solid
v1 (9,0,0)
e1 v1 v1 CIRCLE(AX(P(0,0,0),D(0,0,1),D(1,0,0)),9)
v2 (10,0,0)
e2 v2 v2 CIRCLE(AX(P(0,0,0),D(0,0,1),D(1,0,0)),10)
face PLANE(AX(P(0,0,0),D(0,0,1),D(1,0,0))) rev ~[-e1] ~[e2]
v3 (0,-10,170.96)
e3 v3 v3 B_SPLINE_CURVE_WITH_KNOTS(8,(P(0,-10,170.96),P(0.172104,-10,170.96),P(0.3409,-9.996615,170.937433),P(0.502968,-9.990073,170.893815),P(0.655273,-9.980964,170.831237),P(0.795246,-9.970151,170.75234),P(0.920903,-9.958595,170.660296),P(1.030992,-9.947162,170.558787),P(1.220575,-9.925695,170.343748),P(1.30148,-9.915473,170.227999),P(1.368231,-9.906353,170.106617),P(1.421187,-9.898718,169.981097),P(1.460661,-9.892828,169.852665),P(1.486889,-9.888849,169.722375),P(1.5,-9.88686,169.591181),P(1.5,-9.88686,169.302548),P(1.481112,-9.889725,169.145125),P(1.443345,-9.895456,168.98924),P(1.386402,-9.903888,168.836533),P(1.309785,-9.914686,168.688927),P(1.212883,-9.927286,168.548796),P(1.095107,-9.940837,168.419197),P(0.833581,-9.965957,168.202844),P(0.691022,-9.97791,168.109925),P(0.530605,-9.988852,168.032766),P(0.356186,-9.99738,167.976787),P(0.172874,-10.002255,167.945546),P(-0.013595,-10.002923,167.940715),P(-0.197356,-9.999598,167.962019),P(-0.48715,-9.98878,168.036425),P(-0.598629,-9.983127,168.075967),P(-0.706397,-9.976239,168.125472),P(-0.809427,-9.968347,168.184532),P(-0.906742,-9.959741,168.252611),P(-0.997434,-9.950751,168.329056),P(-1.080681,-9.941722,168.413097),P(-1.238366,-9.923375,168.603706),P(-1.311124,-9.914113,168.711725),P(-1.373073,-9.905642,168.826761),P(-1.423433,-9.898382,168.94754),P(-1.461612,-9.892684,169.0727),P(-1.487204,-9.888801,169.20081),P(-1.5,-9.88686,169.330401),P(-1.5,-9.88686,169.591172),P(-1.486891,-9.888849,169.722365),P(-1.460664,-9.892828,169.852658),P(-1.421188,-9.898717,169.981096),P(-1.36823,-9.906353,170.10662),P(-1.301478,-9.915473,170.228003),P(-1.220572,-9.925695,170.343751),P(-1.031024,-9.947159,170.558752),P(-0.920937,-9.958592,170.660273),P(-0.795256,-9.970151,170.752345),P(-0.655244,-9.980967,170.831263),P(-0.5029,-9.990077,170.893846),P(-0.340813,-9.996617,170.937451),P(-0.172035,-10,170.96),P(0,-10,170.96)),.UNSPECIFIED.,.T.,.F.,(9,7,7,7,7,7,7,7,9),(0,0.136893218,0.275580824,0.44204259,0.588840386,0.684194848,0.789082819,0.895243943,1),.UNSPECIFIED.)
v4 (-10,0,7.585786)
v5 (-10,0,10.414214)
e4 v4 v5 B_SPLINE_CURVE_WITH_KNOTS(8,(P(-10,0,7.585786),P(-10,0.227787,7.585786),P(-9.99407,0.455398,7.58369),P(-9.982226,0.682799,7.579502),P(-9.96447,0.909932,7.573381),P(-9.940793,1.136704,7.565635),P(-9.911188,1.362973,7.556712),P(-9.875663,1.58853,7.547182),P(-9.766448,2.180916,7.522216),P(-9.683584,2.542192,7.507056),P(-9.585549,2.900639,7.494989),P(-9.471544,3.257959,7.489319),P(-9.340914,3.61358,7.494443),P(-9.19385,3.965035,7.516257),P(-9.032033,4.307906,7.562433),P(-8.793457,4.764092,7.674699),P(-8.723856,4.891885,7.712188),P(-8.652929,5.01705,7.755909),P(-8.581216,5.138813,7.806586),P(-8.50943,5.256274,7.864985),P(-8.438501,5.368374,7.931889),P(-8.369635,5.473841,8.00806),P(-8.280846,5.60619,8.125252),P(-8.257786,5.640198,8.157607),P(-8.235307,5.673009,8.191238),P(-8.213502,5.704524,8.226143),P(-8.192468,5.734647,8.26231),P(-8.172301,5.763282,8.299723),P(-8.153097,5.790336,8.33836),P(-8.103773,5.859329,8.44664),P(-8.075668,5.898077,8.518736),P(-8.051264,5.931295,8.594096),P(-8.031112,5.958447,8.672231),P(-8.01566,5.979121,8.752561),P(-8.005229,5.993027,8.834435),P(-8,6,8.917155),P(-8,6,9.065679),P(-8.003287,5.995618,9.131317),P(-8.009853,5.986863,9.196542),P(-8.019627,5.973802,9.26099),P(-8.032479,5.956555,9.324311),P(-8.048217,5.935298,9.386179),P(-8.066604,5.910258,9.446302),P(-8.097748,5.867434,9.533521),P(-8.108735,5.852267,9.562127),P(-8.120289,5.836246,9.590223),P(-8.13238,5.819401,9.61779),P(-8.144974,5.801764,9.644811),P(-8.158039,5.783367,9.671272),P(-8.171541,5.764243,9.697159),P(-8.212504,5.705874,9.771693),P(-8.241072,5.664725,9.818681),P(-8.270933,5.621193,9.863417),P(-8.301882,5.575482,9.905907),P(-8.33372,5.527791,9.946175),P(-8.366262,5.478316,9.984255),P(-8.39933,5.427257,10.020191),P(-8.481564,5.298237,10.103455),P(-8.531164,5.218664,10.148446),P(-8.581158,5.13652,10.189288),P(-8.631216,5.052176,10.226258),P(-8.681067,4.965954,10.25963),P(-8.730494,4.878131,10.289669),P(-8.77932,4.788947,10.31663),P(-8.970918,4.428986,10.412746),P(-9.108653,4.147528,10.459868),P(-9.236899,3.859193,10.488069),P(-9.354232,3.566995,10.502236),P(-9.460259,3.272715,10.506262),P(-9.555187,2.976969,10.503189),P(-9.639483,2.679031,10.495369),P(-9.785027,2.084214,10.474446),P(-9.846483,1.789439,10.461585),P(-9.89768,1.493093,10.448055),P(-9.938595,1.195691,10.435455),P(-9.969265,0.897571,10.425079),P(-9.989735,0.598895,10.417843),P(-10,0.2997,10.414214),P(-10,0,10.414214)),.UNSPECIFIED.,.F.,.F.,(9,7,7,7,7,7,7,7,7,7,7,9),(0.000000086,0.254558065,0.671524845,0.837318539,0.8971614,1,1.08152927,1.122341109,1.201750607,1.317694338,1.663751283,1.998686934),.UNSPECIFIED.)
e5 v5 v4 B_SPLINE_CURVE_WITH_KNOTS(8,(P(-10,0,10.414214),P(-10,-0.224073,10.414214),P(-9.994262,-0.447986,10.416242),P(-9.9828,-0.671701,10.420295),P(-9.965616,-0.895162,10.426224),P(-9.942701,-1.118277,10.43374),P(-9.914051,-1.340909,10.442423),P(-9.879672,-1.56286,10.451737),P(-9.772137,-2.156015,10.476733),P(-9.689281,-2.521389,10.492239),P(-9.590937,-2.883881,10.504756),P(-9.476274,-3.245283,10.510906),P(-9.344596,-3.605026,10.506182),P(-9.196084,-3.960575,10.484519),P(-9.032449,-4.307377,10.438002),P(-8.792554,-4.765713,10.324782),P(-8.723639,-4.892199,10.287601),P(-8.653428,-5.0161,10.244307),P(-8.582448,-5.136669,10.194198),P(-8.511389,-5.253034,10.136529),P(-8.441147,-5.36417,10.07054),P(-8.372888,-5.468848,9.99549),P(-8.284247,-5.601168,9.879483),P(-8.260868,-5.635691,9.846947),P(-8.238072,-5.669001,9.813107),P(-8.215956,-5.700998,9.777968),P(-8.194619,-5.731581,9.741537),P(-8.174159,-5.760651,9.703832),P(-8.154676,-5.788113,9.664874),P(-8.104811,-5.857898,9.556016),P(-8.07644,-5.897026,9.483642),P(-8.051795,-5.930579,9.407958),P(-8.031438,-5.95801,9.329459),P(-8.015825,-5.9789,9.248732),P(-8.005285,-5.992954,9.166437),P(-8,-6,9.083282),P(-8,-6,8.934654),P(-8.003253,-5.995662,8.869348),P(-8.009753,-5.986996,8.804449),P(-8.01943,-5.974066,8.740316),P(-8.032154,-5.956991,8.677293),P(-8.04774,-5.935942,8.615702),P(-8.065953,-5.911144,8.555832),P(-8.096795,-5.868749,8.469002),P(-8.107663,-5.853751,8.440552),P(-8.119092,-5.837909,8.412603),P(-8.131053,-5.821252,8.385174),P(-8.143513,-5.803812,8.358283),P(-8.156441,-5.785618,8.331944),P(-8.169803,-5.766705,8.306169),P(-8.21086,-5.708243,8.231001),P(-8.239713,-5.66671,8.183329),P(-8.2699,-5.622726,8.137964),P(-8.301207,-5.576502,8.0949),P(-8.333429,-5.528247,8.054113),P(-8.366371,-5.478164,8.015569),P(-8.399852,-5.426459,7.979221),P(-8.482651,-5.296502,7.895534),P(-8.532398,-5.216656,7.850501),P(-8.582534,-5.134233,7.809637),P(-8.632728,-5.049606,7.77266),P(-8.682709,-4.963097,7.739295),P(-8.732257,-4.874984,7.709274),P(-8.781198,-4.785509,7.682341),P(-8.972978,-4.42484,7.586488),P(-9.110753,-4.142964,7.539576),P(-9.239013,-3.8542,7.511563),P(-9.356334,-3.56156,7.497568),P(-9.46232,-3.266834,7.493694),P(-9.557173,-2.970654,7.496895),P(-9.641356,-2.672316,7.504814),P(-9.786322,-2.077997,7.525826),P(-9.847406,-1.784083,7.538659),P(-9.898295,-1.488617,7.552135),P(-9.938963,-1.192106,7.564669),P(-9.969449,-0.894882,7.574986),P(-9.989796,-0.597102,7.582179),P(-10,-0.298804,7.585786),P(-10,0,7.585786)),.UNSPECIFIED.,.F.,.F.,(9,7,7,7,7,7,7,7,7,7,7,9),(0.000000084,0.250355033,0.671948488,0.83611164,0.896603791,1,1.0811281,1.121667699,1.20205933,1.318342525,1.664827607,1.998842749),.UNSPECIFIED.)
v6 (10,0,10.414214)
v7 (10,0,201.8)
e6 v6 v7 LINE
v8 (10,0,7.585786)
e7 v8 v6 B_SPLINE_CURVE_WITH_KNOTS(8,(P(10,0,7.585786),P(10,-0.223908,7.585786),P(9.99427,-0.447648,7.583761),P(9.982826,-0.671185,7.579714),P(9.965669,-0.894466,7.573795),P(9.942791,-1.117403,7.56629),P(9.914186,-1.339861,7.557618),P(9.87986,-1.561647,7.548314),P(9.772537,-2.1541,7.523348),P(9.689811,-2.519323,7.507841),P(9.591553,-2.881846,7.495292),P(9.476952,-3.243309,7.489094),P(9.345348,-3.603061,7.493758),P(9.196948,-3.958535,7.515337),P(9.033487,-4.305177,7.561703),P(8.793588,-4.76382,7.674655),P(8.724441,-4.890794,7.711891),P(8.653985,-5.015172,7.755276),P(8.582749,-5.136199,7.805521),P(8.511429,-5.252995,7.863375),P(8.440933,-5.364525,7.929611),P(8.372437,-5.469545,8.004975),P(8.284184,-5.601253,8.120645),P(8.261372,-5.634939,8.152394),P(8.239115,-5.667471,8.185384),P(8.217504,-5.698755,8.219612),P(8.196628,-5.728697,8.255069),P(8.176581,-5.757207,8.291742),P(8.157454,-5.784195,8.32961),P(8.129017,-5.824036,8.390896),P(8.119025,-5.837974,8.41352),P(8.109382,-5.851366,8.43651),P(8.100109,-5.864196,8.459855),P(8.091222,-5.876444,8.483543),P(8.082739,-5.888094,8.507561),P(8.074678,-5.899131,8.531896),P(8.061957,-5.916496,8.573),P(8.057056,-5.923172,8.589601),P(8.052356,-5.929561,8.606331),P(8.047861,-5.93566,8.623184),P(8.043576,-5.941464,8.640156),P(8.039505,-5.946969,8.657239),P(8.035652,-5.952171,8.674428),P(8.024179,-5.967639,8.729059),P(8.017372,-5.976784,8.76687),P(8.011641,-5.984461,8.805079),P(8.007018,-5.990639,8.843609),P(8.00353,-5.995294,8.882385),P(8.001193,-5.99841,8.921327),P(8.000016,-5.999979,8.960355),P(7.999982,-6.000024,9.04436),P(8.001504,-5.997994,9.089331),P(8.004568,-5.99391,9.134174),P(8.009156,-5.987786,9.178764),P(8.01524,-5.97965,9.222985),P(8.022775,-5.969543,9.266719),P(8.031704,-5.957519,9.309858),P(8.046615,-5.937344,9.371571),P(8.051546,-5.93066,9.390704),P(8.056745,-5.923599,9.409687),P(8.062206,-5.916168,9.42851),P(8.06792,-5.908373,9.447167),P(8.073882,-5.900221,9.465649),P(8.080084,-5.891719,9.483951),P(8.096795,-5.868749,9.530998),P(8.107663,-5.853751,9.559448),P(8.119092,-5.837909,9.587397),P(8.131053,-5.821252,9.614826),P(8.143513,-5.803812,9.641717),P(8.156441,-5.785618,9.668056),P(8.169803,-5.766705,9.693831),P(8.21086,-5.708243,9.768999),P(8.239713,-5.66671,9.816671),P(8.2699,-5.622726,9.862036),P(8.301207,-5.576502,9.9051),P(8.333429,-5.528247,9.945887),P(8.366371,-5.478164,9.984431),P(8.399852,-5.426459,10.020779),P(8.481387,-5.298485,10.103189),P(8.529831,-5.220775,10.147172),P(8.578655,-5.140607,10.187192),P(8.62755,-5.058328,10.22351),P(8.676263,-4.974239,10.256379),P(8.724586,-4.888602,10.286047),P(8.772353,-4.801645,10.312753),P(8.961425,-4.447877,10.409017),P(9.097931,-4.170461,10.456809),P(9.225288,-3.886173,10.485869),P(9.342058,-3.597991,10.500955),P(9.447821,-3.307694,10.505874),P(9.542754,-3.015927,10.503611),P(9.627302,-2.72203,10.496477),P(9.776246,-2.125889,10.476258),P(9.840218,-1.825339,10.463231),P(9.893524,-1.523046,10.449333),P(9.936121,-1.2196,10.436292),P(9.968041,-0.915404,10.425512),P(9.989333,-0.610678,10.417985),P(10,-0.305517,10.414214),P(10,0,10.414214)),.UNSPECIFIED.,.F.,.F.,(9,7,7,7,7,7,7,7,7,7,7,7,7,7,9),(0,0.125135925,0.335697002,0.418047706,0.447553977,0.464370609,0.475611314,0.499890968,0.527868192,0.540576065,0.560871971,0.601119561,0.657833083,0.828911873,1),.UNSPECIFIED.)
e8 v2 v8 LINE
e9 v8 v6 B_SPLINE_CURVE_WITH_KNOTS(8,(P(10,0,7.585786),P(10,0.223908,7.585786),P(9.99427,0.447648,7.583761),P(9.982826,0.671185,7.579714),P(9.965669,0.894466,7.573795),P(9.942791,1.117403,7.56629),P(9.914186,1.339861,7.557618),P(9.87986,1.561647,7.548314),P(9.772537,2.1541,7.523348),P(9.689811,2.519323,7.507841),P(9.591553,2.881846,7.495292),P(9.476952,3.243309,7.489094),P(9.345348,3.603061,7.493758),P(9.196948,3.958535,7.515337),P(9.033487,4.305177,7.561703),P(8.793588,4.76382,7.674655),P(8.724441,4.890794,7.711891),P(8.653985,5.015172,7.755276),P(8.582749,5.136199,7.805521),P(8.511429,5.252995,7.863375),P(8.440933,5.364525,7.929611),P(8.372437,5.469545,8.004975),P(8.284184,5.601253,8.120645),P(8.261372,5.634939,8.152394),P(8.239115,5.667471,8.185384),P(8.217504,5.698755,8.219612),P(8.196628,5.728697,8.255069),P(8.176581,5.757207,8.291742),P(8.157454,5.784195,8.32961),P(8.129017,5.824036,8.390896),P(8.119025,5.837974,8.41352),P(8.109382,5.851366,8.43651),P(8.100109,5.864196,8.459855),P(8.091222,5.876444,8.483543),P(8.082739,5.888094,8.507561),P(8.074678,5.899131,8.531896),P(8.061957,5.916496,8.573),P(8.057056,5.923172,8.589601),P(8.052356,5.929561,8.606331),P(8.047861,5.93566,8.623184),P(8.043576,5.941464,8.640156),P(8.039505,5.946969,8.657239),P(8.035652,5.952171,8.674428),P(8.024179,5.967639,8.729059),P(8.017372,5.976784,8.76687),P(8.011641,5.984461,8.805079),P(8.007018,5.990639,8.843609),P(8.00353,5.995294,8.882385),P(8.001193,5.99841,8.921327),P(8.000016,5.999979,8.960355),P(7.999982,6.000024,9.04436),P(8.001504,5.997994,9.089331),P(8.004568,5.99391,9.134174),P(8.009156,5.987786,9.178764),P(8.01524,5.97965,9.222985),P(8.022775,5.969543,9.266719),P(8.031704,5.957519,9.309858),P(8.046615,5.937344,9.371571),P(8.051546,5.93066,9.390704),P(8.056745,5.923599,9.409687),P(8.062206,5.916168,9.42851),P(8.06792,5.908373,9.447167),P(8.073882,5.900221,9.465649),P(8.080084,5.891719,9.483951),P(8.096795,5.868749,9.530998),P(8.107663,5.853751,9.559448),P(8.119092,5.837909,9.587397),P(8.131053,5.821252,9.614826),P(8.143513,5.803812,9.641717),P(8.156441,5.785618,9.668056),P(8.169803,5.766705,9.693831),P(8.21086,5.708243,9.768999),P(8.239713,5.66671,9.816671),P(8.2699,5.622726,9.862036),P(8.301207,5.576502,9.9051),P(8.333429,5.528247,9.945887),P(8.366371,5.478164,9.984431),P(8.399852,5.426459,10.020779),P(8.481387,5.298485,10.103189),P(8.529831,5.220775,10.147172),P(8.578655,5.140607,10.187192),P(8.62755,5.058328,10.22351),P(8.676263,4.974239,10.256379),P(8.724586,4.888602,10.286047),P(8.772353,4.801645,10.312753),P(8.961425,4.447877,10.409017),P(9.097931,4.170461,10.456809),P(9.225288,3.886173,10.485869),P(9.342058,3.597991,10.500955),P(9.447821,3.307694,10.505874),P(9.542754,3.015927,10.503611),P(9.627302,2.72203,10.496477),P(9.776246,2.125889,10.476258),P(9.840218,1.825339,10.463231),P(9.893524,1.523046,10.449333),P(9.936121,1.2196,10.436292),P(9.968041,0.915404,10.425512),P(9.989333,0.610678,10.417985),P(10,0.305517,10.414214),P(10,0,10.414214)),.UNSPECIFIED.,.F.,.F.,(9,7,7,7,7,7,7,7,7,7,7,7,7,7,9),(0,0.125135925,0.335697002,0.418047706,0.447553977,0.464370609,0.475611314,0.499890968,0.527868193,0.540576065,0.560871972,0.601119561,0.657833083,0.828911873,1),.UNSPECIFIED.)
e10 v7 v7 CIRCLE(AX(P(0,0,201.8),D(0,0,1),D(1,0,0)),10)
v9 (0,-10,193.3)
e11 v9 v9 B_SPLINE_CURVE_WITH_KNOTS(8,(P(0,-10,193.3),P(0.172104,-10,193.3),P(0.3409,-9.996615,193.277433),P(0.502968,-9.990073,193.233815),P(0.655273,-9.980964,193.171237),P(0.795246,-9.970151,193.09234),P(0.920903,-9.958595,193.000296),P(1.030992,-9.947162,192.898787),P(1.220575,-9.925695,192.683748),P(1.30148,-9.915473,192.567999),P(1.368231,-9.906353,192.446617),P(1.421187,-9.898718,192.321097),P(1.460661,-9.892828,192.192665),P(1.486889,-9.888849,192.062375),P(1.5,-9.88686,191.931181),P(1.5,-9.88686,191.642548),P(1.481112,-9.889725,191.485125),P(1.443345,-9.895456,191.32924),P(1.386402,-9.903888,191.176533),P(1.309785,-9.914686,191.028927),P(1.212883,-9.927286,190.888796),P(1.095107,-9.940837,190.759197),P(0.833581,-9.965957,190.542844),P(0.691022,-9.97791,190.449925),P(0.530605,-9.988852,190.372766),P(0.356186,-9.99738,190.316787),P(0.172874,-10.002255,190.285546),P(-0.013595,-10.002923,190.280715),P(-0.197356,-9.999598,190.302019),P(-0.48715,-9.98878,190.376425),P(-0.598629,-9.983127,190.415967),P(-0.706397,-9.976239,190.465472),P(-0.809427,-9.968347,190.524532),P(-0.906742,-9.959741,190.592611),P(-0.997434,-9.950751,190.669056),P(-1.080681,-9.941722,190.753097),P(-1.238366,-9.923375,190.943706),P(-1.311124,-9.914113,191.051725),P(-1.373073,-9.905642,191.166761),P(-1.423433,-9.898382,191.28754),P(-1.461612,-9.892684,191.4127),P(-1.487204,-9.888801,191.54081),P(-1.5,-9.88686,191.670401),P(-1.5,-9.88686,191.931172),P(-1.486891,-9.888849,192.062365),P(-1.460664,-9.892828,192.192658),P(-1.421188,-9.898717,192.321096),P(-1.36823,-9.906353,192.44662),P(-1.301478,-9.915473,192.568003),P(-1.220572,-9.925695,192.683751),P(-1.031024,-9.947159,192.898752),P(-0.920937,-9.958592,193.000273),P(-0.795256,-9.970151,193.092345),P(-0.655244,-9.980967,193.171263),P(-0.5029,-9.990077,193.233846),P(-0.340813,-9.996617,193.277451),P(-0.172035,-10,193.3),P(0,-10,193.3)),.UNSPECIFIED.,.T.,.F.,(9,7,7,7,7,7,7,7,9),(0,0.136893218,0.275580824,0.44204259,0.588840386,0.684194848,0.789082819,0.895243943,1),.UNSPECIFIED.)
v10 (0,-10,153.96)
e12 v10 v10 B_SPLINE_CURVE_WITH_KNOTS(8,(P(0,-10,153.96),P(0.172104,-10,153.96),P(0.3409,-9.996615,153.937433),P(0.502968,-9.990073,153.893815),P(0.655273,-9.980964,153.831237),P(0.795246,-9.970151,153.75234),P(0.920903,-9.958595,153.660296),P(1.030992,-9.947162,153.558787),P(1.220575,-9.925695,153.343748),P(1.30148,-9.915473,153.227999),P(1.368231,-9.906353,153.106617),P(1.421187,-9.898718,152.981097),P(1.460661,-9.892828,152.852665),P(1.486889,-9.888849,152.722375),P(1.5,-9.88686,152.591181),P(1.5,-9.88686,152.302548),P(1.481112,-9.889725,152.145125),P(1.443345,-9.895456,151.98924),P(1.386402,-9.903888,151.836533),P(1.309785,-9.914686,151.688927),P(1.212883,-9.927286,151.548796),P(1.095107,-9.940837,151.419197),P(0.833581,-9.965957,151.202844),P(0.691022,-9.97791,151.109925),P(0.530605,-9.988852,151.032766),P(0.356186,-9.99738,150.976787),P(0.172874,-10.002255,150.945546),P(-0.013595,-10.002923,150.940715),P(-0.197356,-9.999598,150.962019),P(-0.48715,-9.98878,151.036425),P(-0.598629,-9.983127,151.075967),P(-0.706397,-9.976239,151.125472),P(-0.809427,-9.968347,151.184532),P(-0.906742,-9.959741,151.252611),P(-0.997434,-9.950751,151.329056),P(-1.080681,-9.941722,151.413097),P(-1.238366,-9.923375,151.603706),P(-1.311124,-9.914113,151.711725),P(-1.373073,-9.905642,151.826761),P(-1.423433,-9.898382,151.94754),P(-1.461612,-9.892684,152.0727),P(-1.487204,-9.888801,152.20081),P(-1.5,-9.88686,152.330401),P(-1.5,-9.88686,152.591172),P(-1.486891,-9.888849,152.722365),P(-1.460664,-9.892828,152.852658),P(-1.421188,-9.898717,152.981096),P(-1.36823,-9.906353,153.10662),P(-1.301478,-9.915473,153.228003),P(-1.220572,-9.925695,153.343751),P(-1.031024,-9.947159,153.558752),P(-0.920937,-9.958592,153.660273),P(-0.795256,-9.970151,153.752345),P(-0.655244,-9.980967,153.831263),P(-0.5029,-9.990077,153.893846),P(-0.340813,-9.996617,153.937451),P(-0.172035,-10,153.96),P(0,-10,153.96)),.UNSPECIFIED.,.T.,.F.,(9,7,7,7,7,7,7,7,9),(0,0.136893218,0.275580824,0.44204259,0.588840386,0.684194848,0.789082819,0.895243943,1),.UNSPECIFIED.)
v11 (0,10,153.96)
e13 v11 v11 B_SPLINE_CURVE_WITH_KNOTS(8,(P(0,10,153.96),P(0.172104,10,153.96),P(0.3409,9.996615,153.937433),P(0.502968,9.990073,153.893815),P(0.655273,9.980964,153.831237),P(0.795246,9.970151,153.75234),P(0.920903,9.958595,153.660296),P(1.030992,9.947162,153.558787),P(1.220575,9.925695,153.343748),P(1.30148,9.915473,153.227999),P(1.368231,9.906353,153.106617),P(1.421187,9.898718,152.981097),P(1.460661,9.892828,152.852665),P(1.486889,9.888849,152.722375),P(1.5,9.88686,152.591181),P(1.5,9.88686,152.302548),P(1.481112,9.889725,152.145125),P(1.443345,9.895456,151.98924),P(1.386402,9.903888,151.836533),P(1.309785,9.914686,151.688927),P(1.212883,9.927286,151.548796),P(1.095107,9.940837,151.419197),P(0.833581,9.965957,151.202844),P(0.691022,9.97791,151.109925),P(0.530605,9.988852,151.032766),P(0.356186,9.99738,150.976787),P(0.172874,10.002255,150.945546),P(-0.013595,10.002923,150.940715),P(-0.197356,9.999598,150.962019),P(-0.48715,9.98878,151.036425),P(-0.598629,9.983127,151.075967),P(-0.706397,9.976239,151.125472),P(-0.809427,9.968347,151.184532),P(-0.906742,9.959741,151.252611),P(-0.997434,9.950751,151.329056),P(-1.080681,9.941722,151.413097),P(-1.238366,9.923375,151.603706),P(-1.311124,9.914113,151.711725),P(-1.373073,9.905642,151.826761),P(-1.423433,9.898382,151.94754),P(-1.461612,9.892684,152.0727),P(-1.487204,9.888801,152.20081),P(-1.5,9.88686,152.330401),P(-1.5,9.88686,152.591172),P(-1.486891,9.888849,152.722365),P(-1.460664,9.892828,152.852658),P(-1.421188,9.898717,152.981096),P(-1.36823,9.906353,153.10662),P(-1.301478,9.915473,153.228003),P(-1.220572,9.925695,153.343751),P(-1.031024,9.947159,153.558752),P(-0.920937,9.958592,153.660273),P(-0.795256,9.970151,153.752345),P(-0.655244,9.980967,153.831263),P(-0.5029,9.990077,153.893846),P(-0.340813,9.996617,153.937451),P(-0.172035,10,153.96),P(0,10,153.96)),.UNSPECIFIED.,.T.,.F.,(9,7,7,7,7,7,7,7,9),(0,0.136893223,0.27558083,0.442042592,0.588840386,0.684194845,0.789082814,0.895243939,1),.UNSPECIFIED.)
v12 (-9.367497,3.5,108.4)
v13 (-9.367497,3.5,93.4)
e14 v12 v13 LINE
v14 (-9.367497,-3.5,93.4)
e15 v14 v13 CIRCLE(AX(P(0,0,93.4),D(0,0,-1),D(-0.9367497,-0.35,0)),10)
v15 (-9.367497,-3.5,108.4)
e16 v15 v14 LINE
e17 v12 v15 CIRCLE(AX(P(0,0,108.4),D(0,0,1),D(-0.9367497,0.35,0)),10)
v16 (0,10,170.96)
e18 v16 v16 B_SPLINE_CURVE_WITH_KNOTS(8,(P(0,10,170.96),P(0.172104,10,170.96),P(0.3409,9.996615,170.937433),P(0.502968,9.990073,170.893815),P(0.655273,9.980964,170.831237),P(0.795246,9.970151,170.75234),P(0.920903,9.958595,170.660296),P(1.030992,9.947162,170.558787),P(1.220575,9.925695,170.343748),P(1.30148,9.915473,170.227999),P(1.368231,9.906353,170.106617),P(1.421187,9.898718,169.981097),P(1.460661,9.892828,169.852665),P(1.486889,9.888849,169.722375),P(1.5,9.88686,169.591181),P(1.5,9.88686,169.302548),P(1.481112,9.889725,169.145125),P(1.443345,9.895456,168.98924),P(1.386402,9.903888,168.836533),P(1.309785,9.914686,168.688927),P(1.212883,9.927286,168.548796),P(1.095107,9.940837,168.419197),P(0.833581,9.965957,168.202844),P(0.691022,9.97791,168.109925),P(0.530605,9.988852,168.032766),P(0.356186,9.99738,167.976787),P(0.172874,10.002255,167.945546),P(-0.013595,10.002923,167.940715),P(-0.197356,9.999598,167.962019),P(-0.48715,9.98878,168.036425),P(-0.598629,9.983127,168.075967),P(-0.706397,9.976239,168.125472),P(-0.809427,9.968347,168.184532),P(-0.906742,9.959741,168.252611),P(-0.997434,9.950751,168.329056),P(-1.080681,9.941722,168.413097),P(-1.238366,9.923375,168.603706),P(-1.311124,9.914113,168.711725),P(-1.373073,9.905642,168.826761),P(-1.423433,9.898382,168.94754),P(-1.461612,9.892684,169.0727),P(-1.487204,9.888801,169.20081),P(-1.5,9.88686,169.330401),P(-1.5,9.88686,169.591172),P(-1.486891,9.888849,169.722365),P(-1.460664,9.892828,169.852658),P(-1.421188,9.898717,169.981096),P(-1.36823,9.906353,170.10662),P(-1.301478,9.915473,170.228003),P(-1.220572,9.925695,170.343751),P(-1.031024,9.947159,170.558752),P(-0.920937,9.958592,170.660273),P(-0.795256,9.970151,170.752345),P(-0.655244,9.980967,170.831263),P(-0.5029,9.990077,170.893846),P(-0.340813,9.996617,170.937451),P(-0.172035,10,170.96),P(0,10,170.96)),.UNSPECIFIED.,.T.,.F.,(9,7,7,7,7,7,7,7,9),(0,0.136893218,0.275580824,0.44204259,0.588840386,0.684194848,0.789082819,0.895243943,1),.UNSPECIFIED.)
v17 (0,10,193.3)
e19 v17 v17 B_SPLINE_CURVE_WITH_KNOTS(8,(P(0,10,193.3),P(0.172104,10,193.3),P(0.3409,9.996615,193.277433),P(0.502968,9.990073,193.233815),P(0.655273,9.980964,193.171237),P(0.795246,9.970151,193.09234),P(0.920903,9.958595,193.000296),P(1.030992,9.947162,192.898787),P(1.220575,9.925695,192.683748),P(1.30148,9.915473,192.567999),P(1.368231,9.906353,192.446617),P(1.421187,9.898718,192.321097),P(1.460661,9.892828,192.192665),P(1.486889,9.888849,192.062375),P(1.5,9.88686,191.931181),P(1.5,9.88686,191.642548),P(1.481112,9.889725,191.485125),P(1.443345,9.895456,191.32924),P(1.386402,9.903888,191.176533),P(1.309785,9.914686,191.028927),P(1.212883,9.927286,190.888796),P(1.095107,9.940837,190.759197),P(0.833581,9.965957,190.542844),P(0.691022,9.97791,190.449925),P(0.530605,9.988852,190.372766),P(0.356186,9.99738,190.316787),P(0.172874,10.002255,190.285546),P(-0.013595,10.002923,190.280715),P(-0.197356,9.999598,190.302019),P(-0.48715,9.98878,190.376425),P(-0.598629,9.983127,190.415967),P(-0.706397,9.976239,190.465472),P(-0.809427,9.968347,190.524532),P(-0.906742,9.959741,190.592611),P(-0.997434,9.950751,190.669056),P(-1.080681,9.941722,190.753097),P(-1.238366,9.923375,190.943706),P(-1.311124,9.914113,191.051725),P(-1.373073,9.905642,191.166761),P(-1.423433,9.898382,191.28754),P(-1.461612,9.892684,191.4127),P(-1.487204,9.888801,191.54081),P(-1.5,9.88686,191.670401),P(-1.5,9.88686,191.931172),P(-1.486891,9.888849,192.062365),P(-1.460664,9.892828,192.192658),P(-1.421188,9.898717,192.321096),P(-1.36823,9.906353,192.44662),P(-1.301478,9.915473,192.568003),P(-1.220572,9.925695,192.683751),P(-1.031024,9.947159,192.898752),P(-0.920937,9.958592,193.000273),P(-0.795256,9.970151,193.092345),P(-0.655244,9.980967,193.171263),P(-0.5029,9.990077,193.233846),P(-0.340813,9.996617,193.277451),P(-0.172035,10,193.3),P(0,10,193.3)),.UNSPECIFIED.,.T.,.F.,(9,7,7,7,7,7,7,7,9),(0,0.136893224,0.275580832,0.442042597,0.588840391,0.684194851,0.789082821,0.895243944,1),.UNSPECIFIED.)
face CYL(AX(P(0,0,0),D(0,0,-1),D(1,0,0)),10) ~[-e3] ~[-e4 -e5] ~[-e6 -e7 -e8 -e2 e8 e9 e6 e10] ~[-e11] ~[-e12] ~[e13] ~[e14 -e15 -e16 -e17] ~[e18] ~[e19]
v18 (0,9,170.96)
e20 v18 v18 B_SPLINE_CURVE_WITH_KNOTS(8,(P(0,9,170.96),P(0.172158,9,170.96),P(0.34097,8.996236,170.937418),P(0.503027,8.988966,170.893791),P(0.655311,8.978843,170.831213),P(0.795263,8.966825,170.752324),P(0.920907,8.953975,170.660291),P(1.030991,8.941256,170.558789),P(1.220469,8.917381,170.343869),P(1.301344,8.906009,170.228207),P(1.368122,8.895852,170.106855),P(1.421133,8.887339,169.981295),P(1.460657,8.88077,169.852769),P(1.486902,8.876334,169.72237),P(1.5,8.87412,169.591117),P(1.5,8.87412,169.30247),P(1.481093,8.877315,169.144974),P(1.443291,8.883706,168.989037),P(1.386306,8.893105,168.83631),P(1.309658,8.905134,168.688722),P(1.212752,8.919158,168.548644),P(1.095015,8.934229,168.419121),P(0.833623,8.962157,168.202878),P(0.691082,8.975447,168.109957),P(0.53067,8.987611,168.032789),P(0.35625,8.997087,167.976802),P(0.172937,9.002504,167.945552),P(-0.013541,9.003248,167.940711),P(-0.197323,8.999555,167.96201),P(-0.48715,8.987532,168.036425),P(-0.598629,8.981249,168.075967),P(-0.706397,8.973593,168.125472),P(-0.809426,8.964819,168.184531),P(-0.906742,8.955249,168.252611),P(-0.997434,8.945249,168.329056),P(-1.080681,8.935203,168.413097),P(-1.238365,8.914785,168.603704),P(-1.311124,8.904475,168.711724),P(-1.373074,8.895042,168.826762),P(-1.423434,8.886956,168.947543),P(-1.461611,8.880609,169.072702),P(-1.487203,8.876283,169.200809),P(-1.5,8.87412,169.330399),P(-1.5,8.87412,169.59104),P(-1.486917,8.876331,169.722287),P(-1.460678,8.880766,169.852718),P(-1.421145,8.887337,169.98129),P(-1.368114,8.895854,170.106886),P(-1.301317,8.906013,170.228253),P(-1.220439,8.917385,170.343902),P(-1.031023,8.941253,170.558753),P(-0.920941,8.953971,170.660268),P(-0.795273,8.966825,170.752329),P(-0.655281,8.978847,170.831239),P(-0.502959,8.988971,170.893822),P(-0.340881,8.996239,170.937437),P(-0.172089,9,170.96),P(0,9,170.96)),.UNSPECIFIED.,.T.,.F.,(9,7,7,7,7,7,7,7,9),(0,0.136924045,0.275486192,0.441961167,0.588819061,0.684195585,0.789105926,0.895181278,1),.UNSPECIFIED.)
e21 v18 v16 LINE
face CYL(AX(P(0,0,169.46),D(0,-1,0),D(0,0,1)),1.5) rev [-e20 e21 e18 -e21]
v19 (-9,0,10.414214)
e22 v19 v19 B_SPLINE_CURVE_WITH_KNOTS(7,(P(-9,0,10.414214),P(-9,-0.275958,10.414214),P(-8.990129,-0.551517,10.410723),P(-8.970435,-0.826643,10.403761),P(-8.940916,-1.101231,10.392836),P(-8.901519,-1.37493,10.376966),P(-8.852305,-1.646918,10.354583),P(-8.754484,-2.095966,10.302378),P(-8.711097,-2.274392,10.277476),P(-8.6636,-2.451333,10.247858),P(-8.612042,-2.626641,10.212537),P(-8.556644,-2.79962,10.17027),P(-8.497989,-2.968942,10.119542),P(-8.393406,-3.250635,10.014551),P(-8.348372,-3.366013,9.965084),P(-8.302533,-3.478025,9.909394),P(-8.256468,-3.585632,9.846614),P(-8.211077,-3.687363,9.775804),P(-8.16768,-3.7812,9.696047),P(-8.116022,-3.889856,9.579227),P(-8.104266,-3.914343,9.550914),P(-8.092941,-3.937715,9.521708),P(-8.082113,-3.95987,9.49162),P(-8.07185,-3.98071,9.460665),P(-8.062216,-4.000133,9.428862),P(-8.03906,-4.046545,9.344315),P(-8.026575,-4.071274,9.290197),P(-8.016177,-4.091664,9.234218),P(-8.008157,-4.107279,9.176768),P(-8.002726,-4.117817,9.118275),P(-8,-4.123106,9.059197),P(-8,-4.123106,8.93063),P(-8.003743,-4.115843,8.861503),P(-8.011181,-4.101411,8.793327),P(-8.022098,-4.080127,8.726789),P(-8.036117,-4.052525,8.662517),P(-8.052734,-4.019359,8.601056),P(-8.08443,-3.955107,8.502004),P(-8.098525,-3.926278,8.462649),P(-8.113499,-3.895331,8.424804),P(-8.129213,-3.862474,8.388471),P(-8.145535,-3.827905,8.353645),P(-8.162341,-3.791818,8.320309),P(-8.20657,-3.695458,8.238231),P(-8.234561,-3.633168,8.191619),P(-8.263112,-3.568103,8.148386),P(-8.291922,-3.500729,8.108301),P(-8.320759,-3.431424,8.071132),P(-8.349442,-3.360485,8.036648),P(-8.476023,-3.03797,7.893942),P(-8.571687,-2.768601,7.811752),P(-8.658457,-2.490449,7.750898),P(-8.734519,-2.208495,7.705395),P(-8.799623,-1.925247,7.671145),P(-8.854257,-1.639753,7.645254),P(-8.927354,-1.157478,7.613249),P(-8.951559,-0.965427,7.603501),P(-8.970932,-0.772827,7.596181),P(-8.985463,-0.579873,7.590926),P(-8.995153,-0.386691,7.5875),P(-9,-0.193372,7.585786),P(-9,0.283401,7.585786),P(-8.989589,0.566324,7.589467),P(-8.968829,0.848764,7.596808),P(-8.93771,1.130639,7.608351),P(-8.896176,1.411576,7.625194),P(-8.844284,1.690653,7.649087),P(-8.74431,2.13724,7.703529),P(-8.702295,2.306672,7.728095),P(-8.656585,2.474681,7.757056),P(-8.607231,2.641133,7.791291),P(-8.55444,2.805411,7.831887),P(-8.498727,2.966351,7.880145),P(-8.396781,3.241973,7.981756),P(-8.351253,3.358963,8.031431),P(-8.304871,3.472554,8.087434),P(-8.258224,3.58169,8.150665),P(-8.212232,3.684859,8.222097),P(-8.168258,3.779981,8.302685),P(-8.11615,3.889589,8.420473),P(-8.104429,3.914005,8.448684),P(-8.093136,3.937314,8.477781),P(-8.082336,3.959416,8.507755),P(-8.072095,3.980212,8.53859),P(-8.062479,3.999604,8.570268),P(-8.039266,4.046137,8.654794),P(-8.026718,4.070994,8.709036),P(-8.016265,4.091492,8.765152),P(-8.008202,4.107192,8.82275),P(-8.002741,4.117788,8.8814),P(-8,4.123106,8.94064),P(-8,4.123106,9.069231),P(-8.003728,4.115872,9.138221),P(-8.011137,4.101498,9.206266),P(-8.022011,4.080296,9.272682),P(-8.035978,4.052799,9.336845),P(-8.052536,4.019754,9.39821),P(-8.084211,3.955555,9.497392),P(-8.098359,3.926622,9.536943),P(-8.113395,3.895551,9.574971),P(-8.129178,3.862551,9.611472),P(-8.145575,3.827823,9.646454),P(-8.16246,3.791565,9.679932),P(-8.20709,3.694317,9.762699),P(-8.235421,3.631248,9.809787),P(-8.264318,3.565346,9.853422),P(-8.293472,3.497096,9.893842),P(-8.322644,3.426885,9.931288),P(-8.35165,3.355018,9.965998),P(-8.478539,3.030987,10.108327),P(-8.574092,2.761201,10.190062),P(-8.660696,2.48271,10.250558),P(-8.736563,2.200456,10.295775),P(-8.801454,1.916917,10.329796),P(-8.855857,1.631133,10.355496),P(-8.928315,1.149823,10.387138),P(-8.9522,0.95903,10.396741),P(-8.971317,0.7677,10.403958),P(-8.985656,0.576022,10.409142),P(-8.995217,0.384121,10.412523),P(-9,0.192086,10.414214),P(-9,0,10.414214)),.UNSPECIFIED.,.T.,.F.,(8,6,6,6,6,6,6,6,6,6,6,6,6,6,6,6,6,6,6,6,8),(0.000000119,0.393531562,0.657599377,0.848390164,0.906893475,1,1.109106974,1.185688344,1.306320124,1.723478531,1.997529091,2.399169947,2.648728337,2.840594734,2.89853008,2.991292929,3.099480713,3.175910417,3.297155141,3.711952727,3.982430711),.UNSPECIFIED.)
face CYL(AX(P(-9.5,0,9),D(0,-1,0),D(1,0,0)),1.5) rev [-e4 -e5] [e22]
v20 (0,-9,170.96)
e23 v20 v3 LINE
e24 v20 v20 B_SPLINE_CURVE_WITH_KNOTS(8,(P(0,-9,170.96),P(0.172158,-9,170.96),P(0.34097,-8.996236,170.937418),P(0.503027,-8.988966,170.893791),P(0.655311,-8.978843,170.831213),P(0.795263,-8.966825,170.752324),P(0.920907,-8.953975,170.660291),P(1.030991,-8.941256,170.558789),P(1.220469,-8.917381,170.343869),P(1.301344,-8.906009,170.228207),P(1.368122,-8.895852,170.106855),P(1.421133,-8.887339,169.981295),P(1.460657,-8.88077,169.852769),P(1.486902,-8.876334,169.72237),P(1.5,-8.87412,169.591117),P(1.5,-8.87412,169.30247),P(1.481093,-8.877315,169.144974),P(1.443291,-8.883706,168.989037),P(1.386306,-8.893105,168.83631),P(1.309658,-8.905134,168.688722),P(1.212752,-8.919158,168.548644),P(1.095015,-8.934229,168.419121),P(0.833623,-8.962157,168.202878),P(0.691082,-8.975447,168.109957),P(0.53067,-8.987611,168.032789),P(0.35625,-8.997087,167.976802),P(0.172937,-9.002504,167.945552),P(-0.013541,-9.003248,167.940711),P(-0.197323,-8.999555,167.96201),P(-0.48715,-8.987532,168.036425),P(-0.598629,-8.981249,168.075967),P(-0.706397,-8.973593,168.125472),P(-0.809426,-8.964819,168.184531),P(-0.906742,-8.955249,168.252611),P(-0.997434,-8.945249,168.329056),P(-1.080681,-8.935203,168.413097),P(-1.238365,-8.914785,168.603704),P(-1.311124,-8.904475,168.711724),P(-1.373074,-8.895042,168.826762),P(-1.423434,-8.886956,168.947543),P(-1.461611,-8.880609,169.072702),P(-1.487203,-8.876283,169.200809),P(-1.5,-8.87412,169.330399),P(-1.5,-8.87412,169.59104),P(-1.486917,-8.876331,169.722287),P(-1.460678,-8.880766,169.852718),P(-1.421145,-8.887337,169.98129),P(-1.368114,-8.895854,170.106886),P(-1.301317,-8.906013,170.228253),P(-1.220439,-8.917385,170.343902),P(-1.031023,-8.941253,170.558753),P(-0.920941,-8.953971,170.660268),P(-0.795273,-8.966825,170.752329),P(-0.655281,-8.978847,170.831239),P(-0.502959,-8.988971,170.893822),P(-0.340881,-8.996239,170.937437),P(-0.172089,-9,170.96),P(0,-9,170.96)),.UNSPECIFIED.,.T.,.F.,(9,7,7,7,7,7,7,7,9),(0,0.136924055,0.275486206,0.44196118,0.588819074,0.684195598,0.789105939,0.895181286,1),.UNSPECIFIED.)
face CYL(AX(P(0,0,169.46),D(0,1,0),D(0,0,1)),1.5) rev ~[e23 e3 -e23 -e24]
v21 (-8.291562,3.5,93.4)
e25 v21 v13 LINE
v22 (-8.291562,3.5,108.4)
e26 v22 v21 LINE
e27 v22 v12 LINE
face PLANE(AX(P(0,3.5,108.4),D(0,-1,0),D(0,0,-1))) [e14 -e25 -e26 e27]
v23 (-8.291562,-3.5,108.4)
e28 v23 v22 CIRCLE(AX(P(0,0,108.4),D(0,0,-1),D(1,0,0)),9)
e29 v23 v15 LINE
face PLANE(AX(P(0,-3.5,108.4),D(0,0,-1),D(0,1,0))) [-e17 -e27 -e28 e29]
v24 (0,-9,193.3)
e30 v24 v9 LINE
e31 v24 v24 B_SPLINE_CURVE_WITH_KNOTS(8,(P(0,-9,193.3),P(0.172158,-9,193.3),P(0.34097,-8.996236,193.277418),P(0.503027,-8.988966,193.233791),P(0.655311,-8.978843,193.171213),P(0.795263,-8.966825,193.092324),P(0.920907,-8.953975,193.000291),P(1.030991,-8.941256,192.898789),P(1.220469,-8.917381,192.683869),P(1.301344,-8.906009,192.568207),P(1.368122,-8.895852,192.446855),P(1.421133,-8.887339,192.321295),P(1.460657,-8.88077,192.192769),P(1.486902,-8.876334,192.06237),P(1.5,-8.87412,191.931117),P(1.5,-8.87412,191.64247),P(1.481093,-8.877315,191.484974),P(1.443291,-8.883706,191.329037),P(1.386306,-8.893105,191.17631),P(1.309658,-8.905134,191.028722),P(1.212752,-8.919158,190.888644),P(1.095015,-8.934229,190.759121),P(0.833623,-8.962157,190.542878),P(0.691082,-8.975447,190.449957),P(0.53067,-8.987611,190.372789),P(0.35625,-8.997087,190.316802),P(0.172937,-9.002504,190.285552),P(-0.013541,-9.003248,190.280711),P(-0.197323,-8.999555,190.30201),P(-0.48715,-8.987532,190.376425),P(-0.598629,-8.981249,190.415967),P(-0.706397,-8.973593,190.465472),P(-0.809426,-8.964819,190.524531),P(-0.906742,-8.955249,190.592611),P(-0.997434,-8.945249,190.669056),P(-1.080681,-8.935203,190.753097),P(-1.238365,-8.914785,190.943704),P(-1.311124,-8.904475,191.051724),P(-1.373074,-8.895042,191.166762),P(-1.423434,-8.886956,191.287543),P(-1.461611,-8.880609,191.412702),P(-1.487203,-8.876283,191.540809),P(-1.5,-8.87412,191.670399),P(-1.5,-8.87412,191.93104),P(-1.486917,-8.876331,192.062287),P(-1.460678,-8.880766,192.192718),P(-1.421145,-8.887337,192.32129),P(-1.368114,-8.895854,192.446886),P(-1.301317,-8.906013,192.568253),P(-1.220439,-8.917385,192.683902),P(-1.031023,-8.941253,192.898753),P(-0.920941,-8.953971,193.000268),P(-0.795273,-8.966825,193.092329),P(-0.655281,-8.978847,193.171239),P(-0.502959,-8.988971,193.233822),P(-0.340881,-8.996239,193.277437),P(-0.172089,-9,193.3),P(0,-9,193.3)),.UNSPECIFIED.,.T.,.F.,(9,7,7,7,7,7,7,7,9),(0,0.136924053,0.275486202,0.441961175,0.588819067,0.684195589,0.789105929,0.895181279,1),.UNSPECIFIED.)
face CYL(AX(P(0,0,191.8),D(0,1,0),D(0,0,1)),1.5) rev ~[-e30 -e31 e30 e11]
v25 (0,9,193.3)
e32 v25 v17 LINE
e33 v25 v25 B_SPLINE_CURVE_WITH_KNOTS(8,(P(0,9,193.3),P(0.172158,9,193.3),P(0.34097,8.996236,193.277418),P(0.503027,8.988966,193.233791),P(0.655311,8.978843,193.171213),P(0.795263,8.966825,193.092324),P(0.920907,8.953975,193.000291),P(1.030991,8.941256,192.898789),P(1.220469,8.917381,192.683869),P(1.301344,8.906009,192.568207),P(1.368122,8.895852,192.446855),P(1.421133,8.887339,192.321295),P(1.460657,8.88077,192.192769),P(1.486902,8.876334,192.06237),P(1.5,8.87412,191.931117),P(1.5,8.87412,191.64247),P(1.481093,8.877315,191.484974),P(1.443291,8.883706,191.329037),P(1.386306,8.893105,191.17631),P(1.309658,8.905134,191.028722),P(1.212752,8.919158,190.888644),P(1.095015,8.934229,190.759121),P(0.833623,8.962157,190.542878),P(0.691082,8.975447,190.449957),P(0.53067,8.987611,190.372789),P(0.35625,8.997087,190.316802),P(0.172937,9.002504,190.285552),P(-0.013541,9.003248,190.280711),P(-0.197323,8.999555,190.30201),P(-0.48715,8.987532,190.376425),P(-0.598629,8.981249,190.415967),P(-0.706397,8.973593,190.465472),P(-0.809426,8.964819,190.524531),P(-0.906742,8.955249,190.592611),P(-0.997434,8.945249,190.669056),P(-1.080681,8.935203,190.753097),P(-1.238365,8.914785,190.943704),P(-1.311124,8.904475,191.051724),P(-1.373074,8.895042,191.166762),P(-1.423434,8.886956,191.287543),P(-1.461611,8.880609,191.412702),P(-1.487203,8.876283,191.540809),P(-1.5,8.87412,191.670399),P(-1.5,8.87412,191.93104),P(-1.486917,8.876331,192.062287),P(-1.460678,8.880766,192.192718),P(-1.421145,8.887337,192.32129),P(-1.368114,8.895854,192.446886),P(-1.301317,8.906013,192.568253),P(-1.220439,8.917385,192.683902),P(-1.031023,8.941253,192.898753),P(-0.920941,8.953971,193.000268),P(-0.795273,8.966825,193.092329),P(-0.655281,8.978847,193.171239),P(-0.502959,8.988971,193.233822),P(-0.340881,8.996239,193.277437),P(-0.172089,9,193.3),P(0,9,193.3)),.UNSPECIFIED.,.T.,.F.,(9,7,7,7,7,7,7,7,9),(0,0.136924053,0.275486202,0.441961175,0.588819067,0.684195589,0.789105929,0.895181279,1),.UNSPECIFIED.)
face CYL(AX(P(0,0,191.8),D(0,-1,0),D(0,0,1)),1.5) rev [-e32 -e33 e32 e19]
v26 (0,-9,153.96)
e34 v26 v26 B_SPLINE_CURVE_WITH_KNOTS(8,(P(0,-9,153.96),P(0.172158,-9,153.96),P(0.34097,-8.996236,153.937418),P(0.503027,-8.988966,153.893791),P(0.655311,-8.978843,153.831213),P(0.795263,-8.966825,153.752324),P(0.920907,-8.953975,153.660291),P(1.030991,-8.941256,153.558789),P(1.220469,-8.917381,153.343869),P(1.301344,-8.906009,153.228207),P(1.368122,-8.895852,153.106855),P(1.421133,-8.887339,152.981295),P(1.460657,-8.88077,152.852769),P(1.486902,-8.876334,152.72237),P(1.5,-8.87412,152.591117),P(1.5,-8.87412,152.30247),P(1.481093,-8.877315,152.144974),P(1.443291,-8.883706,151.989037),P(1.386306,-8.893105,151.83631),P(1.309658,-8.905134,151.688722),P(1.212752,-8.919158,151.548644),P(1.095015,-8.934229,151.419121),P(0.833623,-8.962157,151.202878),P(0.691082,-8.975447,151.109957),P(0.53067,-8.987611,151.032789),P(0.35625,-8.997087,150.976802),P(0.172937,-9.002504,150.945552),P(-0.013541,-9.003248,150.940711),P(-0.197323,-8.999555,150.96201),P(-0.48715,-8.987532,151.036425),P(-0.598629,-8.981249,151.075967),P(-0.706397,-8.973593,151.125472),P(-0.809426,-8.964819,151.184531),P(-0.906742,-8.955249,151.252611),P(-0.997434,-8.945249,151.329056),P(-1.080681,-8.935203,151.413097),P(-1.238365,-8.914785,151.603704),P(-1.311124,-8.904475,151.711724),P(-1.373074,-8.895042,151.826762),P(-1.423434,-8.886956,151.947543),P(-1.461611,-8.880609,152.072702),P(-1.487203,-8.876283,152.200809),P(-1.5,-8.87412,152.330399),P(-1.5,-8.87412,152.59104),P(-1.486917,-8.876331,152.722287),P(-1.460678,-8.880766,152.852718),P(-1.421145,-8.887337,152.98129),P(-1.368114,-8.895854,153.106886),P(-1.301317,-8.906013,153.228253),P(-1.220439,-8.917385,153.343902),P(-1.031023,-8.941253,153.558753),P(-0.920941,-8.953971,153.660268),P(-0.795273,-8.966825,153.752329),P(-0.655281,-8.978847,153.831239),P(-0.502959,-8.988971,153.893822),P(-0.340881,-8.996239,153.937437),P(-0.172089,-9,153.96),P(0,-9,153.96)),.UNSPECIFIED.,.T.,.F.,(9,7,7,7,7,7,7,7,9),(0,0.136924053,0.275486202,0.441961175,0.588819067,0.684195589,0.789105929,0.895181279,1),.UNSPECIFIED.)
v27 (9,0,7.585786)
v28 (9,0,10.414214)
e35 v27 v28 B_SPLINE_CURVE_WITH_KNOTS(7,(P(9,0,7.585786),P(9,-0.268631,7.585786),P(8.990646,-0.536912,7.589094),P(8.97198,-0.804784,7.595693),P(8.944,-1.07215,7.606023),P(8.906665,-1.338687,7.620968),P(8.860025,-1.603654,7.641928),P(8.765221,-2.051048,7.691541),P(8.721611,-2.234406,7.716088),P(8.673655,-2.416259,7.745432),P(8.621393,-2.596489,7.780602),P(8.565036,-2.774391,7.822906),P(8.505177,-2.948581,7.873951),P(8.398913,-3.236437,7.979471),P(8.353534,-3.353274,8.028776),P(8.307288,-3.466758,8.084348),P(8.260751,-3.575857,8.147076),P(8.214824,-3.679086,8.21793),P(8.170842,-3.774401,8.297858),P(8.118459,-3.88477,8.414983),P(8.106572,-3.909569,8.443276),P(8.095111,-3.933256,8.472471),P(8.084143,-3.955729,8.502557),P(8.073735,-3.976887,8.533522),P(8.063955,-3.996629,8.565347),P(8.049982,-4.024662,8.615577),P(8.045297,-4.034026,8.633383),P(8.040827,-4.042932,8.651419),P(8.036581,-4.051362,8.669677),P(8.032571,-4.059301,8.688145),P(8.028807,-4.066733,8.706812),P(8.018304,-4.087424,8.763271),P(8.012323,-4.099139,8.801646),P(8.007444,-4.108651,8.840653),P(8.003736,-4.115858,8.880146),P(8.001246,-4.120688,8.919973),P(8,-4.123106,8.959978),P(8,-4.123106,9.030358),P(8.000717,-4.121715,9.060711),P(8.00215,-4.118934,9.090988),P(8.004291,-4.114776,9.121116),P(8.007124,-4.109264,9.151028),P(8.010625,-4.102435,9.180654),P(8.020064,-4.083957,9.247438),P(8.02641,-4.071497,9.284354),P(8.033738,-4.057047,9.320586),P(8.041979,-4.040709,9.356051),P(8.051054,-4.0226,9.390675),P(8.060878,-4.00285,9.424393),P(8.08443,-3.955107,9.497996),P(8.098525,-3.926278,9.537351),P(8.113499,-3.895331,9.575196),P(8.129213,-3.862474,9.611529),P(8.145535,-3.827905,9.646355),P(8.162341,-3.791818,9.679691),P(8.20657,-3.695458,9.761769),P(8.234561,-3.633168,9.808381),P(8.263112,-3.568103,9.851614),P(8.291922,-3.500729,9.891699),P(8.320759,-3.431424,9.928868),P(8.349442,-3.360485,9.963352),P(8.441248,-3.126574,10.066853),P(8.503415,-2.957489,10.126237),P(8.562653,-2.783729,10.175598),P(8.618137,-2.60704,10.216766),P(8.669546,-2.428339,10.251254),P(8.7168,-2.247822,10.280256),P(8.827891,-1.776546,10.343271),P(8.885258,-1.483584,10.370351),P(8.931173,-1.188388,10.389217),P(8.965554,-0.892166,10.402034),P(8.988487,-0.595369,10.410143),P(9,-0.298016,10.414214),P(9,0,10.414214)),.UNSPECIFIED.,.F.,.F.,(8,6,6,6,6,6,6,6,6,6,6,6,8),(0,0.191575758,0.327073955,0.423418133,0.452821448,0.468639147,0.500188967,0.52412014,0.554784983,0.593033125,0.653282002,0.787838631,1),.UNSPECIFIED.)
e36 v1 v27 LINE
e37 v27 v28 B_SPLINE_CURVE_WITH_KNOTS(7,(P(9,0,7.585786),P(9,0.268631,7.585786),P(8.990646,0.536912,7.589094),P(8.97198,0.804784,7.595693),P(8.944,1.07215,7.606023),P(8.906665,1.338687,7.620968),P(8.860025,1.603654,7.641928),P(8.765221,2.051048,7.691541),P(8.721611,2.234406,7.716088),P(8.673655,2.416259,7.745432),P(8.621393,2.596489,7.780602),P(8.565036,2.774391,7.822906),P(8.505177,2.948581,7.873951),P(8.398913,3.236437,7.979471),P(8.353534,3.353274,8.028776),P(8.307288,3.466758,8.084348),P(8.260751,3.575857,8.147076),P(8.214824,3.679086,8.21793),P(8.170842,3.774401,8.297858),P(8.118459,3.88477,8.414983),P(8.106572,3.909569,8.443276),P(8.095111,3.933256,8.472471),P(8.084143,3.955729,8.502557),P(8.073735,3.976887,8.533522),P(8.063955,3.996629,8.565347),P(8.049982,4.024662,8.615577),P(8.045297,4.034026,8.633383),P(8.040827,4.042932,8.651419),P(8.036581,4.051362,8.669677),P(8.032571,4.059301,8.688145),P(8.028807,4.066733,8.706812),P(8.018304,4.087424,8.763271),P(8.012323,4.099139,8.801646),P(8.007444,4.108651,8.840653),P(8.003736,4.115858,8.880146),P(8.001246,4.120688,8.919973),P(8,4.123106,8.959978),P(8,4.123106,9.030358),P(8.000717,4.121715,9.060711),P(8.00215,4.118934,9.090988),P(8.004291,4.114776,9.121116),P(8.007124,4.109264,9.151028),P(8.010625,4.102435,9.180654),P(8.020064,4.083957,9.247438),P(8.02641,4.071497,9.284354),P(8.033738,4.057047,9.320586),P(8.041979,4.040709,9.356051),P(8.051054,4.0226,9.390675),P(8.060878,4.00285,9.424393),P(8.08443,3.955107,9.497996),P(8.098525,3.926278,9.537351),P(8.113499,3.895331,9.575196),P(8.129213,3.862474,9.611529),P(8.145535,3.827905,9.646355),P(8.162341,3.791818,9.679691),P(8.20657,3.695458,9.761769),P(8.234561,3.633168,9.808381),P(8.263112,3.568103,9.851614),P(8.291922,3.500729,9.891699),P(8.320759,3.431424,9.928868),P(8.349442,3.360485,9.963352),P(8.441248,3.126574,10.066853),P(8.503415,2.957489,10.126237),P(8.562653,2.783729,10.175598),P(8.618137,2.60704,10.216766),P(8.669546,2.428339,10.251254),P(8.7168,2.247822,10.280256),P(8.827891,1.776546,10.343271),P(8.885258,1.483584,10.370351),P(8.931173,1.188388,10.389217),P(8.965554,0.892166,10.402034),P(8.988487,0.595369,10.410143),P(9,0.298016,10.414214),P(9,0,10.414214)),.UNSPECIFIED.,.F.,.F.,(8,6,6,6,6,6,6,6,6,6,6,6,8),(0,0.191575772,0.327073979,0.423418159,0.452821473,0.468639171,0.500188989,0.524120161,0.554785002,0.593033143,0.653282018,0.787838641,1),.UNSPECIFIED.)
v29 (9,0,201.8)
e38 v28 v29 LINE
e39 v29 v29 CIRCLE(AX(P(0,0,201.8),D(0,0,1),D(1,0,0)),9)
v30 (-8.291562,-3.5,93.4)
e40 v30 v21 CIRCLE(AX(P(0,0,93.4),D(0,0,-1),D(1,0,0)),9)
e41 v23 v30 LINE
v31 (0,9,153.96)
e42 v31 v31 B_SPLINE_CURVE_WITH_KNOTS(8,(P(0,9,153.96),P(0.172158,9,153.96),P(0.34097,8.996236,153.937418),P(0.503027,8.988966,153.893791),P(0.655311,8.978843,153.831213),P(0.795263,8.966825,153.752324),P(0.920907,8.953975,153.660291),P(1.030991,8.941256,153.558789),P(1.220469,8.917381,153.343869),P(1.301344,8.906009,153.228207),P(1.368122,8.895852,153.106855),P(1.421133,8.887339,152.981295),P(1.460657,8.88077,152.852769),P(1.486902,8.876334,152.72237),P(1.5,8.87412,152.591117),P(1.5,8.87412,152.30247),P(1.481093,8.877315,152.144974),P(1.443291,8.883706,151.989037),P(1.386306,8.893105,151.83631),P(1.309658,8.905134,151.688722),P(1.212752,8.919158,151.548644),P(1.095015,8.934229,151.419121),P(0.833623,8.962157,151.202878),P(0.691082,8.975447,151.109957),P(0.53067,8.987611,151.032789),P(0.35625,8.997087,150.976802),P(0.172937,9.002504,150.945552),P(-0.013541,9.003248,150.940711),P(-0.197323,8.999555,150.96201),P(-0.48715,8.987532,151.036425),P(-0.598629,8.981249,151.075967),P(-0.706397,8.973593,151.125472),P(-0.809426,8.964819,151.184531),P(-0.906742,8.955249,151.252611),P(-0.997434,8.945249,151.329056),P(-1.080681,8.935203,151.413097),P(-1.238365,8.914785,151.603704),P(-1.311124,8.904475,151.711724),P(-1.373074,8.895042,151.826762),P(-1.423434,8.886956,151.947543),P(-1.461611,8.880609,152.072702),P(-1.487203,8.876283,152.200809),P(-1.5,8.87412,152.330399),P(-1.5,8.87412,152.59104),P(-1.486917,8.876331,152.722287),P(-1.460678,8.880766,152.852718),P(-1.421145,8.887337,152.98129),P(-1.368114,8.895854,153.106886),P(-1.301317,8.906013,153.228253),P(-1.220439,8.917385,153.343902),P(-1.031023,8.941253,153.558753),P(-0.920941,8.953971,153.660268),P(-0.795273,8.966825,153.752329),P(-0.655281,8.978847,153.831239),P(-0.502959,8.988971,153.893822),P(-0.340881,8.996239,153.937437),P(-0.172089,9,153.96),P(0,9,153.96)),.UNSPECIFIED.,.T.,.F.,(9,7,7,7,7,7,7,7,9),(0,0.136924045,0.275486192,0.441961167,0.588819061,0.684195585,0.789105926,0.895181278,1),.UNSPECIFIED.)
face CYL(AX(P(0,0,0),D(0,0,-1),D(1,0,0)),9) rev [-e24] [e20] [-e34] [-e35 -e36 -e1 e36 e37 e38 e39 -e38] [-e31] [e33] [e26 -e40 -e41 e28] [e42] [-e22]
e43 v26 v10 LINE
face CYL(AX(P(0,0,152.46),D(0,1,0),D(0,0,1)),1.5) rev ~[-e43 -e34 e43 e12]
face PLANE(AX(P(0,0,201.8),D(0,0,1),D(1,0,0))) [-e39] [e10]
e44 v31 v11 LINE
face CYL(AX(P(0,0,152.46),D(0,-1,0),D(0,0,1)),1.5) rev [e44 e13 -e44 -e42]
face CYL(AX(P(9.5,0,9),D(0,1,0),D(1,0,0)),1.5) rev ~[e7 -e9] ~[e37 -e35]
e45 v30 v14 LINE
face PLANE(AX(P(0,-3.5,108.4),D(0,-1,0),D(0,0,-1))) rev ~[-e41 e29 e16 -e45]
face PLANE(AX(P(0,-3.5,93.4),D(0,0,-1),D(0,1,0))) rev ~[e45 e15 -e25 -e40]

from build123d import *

# Parameters (mm, degrees)
SKETCH_1_R          = 10
SKETCH_1_R_2        = 9
EXTRUDE_1_DEPTH     = 201.8
SKETCH_2_R          = 1.5
CUT_EXTRUDE_1_DEPTH = 15
SKETCH_3_W          = 15
SKETCH_3_H          = 7
CUT_EXTRUDE_2_DEPTH = 10


with BuildPart() as part:
    # 草图1 → 拉伸-薄壁1 (new body)
    with BuildSketch(Plane.XY):
        Circle(SKETCH_1_R)
        Circle(SKETCH_1_R_2, mode=Mode.SUBTRACT)
    extrude(amount=EXTRUDE_1_DEPTH)

    # 草图2 → 切除-拉伸1 (cut, symmetric)
    with BuildSketch(Plane(origin=(0, 0, 0), x_dir=(1, 0, 0), z_dir=(0, 1, 0))):
        with Locations(Location((0, -152.46, 0), (0, 0, 270))):
            Circle(SKETCH_2_R)
        with Locations(Location((0, -169.46, 0), (0, 0, 270))):
            Circle(SKETCH_2_R)
        with Locations(Location((0, -191.8, 0), (0, 0, 270))):
            Circle(SKETCH_2_R)
        with Locations((-9.5, -9)):
            Circle(SKETCH_2_R)
        with Locations((9.5, -9)):
            Circle(SKETCH_2_R)
    extrude(amount=CUT_EXTRUDE_1_DEPTH, both=True, mode=Mode.SUBTRACT)

    # 草图3 → 切除-拉伸2 (cut)
    with BuildSketch(Plane(origin=(0, 0, 0), x_dir=(0, 0, -1), z_dir=(1, 0, 0))):
        with Locations((-100.9, 0)):
            Rectangle(SKETCH_3_W, SKETCH_3_H)
    extrude(amount=-CUT_EXTRUDE_2_DEPTH, mode=Mode.SUBTRACT)


solid = part.part
